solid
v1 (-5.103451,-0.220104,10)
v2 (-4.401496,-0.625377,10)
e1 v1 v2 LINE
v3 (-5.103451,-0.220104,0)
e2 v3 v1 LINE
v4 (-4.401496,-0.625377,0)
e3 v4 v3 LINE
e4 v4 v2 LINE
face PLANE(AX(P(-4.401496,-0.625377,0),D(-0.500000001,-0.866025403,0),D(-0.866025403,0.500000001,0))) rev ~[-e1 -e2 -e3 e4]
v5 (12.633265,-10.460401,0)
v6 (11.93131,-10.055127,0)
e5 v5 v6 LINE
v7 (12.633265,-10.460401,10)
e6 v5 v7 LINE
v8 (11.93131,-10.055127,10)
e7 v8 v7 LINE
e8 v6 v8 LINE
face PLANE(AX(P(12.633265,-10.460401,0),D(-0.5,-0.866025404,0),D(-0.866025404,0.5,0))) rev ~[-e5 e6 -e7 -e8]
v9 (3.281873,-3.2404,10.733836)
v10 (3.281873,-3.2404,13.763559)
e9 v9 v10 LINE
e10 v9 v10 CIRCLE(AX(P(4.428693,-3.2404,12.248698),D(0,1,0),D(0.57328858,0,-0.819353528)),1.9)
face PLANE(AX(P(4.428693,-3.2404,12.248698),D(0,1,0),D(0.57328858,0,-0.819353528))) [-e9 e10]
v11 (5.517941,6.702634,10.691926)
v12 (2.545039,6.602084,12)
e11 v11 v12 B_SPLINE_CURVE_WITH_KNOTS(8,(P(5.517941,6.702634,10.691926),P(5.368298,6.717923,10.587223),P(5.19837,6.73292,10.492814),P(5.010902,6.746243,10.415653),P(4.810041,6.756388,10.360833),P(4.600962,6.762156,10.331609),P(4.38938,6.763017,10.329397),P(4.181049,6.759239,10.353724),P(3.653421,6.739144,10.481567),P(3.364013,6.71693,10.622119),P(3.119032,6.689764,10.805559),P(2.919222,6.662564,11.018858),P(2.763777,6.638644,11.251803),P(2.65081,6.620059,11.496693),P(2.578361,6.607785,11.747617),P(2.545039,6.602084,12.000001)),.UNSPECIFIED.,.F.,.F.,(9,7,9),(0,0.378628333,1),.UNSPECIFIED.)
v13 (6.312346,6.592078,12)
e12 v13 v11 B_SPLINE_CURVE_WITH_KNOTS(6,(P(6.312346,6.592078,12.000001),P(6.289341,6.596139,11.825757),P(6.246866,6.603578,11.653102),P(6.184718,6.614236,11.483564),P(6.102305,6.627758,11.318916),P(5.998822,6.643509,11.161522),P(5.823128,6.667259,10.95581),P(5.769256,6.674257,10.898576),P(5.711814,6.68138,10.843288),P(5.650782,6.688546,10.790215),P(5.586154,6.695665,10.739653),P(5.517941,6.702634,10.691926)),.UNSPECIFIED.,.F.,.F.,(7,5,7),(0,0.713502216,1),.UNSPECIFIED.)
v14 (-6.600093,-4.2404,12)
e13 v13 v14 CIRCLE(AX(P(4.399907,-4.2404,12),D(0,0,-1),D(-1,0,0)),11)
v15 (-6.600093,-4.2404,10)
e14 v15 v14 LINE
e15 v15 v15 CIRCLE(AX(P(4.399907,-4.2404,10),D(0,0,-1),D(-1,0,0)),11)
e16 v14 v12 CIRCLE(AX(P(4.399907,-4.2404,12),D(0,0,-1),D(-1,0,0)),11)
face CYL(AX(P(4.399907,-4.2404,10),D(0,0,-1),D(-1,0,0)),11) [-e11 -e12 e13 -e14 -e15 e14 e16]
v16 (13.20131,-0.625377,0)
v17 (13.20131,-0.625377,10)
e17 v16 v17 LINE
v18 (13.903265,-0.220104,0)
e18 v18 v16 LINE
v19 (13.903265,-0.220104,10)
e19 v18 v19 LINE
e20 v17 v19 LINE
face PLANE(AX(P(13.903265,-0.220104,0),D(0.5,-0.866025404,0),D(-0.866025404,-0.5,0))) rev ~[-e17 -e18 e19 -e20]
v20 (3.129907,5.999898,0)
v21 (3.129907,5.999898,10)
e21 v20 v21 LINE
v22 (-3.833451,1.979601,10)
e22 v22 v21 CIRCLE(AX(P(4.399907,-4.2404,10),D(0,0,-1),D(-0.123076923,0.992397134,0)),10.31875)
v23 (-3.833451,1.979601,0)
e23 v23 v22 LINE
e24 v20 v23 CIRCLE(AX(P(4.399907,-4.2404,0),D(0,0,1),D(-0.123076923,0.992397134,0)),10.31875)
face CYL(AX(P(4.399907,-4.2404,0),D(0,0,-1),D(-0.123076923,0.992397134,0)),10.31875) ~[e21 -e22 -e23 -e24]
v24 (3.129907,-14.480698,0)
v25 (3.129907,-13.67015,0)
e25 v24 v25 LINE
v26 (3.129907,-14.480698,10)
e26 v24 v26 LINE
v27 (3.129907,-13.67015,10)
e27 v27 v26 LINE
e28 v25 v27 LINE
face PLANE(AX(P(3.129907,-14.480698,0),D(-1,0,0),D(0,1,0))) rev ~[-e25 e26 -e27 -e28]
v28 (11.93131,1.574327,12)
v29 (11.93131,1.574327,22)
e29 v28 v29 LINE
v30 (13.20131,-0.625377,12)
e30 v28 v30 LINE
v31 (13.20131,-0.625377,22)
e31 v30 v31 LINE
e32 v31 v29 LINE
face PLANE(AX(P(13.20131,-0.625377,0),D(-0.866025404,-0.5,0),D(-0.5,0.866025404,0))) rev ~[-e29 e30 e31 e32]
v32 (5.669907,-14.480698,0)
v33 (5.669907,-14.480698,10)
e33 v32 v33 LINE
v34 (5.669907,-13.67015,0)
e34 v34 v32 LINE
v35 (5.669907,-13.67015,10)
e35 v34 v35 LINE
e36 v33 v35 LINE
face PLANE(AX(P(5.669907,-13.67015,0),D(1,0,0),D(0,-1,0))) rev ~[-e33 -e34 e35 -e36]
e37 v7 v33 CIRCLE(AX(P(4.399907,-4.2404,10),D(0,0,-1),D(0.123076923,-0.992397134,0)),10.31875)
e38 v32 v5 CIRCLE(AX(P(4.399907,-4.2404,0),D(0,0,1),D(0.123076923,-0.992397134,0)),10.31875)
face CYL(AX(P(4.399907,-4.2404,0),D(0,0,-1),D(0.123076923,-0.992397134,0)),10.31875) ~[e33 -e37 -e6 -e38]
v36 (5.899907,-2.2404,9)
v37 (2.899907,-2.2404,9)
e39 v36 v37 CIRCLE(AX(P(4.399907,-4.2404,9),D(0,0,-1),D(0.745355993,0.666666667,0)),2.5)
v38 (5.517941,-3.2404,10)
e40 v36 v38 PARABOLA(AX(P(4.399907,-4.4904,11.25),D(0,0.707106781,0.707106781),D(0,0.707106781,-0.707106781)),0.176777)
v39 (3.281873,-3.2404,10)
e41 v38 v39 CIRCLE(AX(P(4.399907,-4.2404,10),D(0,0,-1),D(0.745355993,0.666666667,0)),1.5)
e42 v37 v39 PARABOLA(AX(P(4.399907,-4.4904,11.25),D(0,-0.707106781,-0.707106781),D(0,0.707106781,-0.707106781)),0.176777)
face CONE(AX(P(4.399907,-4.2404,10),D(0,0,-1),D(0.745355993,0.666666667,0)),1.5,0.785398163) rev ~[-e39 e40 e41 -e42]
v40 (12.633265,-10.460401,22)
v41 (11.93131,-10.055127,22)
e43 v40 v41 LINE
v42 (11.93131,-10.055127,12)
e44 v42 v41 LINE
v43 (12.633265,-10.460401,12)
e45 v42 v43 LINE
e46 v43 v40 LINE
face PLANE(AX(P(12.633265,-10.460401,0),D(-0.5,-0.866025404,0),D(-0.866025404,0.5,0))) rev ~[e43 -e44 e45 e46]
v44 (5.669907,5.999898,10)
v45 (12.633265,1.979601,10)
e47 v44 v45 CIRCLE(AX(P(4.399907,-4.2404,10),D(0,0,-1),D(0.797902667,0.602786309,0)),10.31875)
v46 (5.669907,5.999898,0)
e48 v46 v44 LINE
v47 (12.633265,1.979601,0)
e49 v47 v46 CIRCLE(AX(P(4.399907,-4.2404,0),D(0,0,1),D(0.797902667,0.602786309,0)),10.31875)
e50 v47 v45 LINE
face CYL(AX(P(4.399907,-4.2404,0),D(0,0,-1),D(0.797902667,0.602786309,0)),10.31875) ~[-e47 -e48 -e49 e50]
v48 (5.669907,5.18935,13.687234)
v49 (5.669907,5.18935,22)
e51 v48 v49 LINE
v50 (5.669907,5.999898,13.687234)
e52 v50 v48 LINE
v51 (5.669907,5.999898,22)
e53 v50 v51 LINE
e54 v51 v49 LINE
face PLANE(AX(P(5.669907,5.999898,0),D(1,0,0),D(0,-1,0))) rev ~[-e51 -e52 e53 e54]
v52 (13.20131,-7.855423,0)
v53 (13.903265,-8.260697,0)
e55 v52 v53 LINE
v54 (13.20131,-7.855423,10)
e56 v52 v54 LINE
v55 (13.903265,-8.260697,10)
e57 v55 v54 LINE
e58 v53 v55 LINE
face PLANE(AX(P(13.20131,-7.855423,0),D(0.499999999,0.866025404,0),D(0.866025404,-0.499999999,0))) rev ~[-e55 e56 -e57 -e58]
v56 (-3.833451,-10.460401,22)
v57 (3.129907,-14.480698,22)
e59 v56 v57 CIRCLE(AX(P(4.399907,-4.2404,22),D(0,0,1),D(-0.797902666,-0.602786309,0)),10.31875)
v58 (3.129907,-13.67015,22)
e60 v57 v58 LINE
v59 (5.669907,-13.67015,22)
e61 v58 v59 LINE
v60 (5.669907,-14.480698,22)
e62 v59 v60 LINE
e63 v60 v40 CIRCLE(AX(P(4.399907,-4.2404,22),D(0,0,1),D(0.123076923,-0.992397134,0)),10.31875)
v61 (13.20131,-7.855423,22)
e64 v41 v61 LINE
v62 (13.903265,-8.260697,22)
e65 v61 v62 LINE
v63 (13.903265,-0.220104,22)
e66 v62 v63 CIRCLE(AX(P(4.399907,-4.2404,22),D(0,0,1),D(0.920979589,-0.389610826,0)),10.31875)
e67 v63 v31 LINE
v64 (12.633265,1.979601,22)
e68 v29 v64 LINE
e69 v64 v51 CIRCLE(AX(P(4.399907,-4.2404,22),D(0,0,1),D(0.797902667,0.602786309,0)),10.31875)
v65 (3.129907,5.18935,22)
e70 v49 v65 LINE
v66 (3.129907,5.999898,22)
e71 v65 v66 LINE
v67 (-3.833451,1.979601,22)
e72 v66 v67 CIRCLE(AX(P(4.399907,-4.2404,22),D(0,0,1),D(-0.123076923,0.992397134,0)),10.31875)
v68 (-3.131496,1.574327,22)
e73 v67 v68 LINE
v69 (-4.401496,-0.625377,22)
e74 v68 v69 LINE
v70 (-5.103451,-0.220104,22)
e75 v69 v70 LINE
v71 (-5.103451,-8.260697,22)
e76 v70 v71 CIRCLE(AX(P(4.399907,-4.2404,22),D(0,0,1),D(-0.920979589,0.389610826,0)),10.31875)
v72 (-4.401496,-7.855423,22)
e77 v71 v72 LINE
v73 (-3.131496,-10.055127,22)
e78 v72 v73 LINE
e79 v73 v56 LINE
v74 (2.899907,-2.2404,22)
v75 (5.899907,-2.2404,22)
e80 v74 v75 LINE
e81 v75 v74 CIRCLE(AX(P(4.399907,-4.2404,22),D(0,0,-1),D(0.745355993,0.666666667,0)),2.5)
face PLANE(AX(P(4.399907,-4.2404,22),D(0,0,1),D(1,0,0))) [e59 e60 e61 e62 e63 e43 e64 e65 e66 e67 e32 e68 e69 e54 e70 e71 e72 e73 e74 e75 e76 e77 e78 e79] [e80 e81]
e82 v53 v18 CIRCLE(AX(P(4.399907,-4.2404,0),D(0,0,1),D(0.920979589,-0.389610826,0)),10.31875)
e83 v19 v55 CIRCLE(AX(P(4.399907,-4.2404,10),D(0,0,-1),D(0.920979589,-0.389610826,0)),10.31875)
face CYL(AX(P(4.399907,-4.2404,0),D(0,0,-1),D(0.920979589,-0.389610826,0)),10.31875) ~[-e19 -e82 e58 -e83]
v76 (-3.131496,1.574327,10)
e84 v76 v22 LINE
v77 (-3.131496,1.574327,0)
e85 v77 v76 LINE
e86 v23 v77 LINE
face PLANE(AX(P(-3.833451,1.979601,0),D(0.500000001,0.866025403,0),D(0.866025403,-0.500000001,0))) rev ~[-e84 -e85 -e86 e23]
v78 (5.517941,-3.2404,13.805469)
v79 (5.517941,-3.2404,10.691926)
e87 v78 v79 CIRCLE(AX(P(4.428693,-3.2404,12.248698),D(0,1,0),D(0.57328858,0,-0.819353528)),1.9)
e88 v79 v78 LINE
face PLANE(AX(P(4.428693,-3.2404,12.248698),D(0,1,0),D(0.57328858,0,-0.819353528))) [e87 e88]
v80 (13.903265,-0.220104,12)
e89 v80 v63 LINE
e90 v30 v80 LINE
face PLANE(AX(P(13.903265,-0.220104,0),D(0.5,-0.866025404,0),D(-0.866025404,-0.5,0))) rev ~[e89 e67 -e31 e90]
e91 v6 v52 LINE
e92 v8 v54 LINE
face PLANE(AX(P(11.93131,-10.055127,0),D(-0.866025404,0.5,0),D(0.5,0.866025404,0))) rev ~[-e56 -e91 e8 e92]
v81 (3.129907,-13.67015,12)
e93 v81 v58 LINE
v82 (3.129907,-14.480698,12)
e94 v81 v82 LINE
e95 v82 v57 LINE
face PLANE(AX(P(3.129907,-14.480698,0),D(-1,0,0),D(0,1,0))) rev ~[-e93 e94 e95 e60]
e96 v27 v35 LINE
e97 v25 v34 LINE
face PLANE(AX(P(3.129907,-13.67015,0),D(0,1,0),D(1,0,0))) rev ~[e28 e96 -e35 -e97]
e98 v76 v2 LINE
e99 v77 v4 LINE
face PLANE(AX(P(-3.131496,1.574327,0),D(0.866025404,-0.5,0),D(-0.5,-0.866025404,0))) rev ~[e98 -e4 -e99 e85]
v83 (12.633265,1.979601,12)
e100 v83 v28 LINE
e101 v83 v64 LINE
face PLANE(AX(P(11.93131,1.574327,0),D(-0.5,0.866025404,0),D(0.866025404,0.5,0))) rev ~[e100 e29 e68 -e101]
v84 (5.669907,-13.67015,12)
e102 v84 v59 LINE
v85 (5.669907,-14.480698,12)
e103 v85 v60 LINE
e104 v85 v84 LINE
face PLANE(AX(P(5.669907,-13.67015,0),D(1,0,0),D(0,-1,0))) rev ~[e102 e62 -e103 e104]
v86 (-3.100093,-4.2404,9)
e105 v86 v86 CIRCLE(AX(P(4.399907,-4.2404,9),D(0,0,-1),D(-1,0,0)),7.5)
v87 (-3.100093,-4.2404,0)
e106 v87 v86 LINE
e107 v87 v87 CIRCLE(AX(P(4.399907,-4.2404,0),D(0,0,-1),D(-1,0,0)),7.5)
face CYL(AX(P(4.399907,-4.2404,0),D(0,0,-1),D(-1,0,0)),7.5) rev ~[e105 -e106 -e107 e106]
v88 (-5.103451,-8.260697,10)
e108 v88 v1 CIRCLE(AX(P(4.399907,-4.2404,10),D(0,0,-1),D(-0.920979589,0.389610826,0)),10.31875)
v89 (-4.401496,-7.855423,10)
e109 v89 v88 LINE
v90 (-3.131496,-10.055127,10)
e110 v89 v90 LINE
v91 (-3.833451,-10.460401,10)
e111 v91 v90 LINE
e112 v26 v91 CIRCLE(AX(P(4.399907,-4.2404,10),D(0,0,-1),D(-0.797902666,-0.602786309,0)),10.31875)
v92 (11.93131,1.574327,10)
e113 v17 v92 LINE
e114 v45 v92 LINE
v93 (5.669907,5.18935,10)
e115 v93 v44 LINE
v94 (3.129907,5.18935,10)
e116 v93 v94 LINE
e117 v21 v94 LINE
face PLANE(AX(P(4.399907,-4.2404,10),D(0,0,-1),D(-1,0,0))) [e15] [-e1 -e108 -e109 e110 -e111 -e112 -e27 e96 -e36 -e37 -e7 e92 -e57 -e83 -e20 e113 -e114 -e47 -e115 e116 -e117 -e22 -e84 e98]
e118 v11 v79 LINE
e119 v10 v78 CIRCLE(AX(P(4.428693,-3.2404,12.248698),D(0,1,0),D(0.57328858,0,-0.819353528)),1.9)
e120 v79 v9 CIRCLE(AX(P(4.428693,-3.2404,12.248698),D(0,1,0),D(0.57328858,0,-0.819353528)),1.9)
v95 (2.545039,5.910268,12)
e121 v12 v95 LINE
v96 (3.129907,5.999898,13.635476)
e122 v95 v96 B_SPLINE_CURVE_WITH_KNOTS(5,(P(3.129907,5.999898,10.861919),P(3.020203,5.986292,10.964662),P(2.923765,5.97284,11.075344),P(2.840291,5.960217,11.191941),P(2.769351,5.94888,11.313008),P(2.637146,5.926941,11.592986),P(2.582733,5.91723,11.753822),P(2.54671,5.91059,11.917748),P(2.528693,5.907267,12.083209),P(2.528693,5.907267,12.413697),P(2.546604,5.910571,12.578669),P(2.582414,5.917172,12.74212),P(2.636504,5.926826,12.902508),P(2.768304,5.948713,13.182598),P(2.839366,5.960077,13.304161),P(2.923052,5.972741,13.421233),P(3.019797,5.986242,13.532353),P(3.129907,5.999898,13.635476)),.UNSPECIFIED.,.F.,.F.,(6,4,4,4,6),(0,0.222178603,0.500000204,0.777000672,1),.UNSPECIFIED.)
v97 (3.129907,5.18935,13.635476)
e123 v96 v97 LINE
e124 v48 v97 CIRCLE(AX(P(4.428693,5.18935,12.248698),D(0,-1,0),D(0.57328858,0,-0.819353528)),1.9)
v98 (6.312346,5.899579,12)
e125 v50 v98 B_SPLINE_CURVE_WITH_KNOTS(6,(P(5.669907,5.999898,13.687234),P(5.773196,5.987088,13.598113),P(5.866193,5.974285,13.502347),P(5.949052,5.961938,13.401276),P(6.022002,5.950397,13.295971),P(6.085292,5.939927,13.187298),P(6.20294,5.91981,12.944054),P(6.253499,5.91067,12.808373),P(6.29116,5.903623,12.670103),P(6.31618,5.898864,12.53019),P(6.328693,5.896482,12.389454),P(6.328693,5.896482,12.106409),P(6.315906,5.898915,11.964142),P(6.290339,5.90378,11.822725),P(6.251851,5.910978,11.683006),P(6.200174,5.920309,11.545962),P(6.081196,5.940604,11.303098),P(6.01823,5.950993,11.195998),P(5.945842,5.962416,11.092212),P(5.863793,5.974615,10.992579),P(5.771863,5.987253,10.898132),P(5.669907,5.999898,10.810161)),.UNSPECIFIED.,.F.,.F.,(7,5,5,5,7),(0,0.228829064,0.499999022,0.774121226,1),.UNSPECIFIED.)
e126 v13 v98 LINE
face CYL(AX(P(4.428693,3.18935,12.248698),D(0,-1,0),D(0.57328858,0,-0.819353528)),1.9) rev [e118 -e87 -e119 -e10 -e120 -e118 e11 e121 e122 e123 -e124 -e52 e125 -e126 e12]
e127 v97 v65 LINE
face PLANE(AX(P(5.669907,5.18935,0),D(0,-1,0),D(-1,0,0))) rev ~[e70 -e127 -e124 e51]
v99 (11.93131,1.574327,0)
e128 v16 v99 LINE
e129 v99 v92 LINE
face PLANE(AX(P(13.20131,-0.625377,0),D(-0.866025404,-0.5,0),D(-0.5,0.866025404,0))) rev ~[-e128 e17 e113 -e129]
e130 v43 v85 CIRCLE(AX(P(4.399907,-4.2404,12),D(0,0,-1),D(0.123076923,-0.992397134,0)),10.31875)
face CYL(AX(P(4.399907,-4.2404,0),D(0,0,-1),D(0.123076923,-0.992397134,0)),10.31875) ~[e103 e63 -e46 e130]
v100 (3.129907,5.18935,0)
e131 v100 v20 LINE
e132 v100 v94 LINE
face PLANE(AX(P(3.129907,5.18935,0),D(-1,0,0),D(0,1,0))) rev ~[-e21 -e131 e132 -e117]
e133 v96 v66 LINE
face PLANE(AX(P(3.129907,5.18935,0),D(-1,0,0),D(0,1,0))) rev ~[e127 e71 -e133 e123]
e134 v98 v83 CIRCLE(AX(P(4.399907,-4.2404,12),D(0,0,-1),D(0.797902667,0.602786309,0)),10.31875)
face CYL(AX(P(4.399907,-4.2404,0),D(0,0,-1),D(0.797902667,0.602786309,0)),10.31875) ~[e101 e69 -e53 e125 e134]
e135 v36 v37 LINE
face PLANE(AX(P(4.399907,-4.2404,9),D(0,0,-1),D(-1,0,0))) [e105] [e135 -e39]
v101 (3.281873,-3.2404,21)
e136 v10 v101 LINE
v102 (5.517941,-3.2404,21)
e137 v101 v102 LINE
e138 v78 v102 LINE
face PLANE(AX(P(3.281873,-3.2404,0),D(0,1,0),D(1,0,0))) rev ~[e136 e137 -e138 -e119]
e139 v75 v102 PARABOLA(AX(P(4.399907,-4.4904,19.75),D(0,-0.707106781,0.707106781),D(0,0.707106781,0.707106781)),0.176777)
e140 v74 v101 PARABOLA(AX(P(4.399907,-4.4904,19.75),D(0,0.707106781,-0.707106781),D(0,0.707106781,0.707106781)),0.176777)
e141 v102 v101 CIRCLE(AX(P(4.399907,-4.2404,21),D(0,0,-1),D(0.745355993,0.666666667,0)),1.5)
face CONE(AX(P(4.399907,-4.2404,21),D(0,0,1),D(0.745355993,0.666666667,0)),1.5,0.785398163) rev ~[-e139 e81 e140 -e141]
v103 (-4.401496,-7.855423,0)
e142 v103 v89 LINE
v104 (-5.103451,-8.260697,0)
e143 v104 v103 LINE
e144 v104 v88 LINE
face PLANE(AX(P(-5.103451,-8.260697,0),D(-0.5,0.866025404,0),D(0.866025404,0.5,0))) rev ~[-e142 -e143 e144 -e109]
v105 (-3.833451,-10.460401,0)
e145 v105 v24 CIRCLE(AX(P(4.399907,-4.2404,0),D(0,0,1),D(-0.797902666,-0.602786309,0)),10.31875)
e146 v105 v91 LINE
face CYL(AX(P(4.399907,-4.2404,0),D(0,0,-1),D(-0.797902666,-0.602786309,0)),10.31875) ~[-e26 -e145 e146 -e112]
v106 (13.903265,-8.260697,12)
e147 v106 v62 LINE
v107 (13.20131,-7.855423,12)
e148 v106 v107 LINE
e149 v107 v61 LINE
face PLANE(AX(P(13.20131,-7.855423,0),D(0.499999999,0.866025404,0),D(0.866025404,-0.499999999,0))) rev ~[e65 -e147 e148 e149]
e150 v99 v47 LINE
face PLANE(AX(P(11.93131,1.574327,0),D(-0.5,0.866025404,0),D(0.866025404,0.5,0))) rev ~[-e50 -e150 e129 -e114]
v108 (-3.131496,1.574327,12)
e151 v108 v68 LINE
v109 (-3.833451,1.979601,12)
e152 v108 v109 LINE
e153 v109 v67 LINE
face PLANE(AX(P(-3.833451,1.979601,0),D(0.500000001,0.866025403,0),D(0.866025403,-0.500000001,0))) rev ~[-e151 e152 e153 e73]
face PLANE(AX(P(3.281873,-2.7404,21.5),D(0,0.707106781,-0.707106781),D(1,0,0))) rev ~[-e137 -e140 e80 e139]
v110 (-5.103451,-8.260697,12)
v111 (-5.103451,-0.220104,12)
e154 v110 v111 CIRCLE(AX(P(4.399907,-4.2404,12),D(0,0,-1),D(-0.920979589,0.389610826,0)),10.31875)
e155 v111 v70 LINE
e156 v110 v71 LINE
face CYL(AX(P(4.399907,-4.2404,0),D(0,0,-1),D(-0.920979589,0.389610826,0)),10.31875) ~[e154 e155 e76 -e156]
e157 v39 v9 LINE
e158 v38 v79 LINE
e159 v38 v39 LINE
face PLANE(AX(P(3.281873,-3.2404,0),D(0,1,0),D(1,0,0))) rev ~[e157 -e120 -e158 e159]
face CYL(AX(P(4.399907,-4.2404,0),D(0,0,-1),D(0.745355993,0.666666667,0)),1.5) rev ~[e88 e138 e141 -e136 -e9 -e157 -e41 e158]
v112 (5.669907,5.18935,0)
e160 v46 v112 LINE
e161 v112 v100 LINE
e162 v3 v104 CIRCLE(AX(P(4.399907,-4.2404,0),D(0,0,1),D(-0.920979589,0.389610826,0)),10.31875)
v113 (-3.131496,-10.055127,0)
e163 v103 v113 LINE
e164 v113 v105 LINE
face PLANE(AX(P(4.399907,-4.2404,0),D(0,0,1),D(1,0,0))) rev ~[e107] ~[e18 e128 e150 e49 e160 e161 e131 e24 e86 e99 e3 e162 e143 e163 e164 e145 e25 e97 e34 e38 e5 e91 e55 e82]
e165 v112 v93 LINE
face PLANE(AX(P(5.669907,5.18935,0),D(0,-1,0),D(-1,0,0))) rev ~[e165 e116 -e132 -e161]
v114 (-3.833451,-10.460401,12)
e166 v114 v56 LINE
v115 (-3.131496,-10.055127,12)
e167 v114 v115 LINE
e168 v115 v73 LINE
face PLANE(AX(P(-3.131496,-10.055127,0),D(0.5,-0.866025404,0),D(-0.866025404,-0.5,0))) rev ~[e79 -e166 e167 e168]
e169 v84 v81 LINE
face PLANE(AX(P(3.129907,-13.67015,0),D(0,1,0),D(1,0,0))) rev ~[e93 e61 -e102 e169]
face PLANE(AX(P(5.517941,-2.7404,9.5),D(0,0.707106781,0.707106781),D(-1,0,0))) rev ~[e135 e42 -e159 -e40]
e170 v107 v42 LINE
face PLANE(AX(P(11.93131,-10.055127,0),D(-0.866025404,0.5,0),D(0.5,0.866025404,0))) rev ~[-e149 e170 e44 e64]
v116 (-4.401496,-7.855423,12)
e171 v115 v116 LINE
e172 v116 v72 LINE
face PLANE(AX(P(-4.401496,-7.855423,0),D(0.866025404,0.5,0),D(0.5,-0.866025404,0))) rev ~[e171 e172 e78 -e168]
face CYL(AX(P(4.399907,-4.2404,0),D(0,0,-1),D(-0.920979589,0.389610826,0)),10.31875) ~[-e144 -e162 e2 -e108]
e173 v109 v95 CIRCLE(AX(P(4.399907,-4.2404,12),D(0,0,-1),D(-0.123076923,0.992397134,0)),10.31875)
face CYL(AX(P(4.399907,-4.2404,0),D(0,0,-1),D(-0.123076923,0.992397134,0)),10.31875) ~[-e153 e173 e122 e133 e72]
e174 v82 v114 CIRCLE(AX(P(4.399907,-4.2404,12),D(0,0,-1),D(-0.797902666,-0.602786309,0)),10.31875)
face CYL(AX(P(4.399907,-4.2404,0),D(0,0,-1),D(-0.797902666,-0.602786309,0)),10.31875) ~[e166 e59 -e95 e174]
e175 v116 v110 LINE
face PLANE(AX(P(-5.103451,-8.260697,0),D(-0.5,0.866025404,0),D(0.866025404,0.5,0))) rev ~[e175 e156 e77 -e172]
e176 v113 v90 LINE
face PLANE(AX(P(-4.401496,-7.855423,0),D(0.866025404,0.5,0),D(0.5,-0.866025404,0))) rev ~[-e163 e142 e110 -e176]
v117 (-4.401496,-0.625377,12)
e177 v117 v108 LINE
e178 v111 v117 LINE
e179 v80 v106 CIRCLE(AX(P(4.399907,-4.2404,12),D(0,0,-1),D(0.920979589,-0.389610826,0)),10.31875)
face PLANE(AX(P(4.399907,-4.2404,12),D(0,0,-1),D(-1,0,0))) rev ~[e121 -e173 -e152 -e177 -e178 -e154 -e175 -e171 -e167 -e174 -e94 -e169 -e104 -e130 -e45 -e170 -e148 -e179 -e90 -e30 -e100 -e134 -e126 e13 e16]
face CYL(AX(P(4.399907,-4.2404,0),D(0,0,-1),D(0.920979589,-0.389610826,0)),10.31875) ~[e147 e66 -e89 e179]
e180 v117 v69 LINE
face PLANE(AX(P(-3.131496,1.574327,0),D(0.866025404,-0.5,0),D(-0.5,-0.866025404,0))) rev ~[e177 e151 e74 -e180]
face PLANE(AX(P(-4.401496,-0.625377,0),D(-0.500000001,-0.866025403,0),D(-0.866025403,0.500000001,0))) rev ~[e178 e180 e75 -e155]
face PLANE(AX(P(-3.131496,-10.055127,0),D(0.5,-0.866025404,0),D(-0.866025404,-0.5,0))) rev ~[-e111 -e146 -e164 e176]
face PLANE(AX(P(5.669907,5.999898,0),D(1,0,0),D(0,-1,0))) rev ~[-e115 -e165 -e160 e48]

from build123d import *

# Parameters (mm, degrees)
EXTRUDE_1_DEPTH          = 22
SKETCH_2_R               = 7.5
CUT_EXTRUDE_1_DEPTH      = 9
CUT_EXTRUDE_3_DEPTH      = 1
CUT_EXTRUDE_3_DEPTH_BACK = 8.42975
SKETCH_4_R               = 1.9
CHAMFER_1_SIZE           = 1
EXTRUDE_START            = -10
SKETCH_5_R               = 11
SKETCH_5_R_2             = 9.429749991
EXTRUDE_2_DEPTH          = 2
CUT_EXTRUDE_4_DEPTH      = 2
CUT_EXTRUDE_4_DEPTH_BACK = 2
SKETCH_6_R               = 1.9


with BuildPart() as part:
    # Эскиз1 → Бобышка-Вытянуть1 (new body)
    with BuildSketch(Plane.XY):
        with BuildLine():
            Line((13.201310027, -7.85542296), (13.90326512, -8.260696921))
            ThreePointArc((13.90326512, -8.260696921), (14.718656981, -4.240400213), (13.903265122, -0.220103504))
            Line((13.903265122, -0.220103504), (13.201310027, -0.625377467))
            Line((13.201310027, -0.625377467), (11.931310033, 1.574327047))
            Line((11.931310033, 1.574327047), (12.633265127, 1.979601009))
            ThreePointArc((12.633265127, 1.979601009), (9.559281984, 4.695899416), (5.669906988, 5.999897702))
            Line((5.669906988, 5.999897702), (5.669906988, 5.189349779))
            Line((5.669906988, 5.189349779), (3.129906988, 5.189349779))
            Line((3.129906988, 5.189349779), (3.129906988, 5.999897708))
            ThreePointArc((3.129906988, 5.999897708), (-0.759468012, 4.69589942), (-3.833451156, 1.979601011))
            Line((-3.833451156, 1.979601011), (-3.131496059, 1.574327046))
            Line((-3.131496059, 1.574327046), (-4.401496055, -0.625377472))
            Line((-4.401496055, -0.625377472), (-5.103451147, -0.22010351))
            ThreePointArc((-5.103451147, -0.22010351), (-5.918843009, -4.240400218), (-5.10345115, -8.260696926))
            Line((-5.10345115, -8.260696926), (-4.401496056, -7.855422963))
            Line((-4.401496056, -7.855422963), (-3.13149606, -10.055127481))
            Line((-3.13149606, -10.055127481), (-3.833451154, -10.460401444))
            ThreePointArc((-3.833451154, -10.460401444), (-0.759468012, -13.17669985), (3.129906983, -14.480698136))
            Line((3.129906983, -14.480698136), (3.129906983, -13.670150213))
            Line((3.129906983, -13.670150213), (5.669906983, -13.670150213))
            Line((5.669906983, -13.670150213), (5.669906983, -14.480698142))
            ThreePointArc((5.669906983, -14.480698142), (9.559281984, -13.176699854), (12.633265129, -10.460401443))
            Line((12.633265129, -10.460401443), (11.931310031, -10.055127478))
            Line((11.931310031, -10.055127478), (13.201310027, -7.85542296))
        make_face()
        with BuildLine():
            Line((3.281873001, -3.240400222), (5.517940979, -3.240400222))
            ThreePointArc((5.517940979, -3.240400222), (4.39990699, -5.740400222), (3.281873001, -3.240400222))
        make_face(mode=Mode.SUBTRACT)
    extrude(amount=EXTRUDE_1_DEPTH)

    # Эскиз2 → Вырез-Вытянуть1 (cut)
    with BuildSketch(Plane(origin=(0, 0, 0), x_dir=(-1, 0, 0), z_dir=(0, 0, -1))):
        with Locations((-4.39990699, -4.240400222)):
            Circle(SKETCH_2_R)
    extrude(amount=-CUT_EXTRUDE_1_DEPTH, mode=Mode.SUBTRACT)

    # Эскиз4 → Вырез-Вытянуть3 (cut, two sides: drawn at the far end of the back side and taken through both)
    with BuildSketch(Plane(origin=(0, 5.189349779, 0), x_dir=(1, 0, 0), z_dir=(0, 1, 0)).offset(-CUT_EXTRUDE_3_DEPTH_BACK)):
        with Locations(Location((4.428692677, -12.248697559, 0), (0, 0, 55.020131728))):
            Circle(SKETCH_4_R)
    extrude(amount=CUT_EXTRUDE_3_DEPTH + CUT_EXTRUDE_3_DEPTH_BACK, mode=Mode.SUBTRACT)

    # Фаска1
    chamfer_1_edges = [part.edges().sort_by_distance(p)[0] for p in [
        (4.39990699, -5.740400222, 22),
        (4.39990699, -3.240400222, 22),
        (4.39990699, -3.240400222, 9),
        (4.39990699, -5.740400222, 9),
    ]]
    chamfer(chamfer_1_edges, length=CHAMFER_1_SIZE)

    # Эскиз5 → Бобышка-Вытянуть2 (add)
    with BuildSketch(Plane(origin=(0, 0, 0), x_dir=(-1, 0, 0), z_dir=(0, 0, -1)).offset(EXTRUDE_START)):
        with Locations((-4.39990699, -4.240400222)):
            Circle(SKETCH_5_R)
        with Locations((-4.39990699, -4.240400222)):
            Circle(SKETCH_5_R_2, mode=Mode.SUBTRACT)
    extrude(amount=-EXTRUDE_2_DEPTH)

    # Эскиз6 → Вырез-Вытянуть4 (cut, two sides: drawn at the far end of the back side and taken through both)
    with BuildSketch(Plane(origin=(0, 5.189349779, 0), x_dir=(1, 0, 0), z_dir=(0, 1, 0)).offset(-CUT_EXTRUDE_4_DEPTH_BACK)):
        with Locations(Location((4.428692677, -12.248697559, 0), (0, 0, 55.020131728))):
            Circle(SKETCH_6_R)
    extrude(amount=CUT_EXTRUDE_4_DEPTH + CUT_EXTRUDE_4_DEPTH_BACK, mode=Mode.SUBTRACT)


solid = part.part
